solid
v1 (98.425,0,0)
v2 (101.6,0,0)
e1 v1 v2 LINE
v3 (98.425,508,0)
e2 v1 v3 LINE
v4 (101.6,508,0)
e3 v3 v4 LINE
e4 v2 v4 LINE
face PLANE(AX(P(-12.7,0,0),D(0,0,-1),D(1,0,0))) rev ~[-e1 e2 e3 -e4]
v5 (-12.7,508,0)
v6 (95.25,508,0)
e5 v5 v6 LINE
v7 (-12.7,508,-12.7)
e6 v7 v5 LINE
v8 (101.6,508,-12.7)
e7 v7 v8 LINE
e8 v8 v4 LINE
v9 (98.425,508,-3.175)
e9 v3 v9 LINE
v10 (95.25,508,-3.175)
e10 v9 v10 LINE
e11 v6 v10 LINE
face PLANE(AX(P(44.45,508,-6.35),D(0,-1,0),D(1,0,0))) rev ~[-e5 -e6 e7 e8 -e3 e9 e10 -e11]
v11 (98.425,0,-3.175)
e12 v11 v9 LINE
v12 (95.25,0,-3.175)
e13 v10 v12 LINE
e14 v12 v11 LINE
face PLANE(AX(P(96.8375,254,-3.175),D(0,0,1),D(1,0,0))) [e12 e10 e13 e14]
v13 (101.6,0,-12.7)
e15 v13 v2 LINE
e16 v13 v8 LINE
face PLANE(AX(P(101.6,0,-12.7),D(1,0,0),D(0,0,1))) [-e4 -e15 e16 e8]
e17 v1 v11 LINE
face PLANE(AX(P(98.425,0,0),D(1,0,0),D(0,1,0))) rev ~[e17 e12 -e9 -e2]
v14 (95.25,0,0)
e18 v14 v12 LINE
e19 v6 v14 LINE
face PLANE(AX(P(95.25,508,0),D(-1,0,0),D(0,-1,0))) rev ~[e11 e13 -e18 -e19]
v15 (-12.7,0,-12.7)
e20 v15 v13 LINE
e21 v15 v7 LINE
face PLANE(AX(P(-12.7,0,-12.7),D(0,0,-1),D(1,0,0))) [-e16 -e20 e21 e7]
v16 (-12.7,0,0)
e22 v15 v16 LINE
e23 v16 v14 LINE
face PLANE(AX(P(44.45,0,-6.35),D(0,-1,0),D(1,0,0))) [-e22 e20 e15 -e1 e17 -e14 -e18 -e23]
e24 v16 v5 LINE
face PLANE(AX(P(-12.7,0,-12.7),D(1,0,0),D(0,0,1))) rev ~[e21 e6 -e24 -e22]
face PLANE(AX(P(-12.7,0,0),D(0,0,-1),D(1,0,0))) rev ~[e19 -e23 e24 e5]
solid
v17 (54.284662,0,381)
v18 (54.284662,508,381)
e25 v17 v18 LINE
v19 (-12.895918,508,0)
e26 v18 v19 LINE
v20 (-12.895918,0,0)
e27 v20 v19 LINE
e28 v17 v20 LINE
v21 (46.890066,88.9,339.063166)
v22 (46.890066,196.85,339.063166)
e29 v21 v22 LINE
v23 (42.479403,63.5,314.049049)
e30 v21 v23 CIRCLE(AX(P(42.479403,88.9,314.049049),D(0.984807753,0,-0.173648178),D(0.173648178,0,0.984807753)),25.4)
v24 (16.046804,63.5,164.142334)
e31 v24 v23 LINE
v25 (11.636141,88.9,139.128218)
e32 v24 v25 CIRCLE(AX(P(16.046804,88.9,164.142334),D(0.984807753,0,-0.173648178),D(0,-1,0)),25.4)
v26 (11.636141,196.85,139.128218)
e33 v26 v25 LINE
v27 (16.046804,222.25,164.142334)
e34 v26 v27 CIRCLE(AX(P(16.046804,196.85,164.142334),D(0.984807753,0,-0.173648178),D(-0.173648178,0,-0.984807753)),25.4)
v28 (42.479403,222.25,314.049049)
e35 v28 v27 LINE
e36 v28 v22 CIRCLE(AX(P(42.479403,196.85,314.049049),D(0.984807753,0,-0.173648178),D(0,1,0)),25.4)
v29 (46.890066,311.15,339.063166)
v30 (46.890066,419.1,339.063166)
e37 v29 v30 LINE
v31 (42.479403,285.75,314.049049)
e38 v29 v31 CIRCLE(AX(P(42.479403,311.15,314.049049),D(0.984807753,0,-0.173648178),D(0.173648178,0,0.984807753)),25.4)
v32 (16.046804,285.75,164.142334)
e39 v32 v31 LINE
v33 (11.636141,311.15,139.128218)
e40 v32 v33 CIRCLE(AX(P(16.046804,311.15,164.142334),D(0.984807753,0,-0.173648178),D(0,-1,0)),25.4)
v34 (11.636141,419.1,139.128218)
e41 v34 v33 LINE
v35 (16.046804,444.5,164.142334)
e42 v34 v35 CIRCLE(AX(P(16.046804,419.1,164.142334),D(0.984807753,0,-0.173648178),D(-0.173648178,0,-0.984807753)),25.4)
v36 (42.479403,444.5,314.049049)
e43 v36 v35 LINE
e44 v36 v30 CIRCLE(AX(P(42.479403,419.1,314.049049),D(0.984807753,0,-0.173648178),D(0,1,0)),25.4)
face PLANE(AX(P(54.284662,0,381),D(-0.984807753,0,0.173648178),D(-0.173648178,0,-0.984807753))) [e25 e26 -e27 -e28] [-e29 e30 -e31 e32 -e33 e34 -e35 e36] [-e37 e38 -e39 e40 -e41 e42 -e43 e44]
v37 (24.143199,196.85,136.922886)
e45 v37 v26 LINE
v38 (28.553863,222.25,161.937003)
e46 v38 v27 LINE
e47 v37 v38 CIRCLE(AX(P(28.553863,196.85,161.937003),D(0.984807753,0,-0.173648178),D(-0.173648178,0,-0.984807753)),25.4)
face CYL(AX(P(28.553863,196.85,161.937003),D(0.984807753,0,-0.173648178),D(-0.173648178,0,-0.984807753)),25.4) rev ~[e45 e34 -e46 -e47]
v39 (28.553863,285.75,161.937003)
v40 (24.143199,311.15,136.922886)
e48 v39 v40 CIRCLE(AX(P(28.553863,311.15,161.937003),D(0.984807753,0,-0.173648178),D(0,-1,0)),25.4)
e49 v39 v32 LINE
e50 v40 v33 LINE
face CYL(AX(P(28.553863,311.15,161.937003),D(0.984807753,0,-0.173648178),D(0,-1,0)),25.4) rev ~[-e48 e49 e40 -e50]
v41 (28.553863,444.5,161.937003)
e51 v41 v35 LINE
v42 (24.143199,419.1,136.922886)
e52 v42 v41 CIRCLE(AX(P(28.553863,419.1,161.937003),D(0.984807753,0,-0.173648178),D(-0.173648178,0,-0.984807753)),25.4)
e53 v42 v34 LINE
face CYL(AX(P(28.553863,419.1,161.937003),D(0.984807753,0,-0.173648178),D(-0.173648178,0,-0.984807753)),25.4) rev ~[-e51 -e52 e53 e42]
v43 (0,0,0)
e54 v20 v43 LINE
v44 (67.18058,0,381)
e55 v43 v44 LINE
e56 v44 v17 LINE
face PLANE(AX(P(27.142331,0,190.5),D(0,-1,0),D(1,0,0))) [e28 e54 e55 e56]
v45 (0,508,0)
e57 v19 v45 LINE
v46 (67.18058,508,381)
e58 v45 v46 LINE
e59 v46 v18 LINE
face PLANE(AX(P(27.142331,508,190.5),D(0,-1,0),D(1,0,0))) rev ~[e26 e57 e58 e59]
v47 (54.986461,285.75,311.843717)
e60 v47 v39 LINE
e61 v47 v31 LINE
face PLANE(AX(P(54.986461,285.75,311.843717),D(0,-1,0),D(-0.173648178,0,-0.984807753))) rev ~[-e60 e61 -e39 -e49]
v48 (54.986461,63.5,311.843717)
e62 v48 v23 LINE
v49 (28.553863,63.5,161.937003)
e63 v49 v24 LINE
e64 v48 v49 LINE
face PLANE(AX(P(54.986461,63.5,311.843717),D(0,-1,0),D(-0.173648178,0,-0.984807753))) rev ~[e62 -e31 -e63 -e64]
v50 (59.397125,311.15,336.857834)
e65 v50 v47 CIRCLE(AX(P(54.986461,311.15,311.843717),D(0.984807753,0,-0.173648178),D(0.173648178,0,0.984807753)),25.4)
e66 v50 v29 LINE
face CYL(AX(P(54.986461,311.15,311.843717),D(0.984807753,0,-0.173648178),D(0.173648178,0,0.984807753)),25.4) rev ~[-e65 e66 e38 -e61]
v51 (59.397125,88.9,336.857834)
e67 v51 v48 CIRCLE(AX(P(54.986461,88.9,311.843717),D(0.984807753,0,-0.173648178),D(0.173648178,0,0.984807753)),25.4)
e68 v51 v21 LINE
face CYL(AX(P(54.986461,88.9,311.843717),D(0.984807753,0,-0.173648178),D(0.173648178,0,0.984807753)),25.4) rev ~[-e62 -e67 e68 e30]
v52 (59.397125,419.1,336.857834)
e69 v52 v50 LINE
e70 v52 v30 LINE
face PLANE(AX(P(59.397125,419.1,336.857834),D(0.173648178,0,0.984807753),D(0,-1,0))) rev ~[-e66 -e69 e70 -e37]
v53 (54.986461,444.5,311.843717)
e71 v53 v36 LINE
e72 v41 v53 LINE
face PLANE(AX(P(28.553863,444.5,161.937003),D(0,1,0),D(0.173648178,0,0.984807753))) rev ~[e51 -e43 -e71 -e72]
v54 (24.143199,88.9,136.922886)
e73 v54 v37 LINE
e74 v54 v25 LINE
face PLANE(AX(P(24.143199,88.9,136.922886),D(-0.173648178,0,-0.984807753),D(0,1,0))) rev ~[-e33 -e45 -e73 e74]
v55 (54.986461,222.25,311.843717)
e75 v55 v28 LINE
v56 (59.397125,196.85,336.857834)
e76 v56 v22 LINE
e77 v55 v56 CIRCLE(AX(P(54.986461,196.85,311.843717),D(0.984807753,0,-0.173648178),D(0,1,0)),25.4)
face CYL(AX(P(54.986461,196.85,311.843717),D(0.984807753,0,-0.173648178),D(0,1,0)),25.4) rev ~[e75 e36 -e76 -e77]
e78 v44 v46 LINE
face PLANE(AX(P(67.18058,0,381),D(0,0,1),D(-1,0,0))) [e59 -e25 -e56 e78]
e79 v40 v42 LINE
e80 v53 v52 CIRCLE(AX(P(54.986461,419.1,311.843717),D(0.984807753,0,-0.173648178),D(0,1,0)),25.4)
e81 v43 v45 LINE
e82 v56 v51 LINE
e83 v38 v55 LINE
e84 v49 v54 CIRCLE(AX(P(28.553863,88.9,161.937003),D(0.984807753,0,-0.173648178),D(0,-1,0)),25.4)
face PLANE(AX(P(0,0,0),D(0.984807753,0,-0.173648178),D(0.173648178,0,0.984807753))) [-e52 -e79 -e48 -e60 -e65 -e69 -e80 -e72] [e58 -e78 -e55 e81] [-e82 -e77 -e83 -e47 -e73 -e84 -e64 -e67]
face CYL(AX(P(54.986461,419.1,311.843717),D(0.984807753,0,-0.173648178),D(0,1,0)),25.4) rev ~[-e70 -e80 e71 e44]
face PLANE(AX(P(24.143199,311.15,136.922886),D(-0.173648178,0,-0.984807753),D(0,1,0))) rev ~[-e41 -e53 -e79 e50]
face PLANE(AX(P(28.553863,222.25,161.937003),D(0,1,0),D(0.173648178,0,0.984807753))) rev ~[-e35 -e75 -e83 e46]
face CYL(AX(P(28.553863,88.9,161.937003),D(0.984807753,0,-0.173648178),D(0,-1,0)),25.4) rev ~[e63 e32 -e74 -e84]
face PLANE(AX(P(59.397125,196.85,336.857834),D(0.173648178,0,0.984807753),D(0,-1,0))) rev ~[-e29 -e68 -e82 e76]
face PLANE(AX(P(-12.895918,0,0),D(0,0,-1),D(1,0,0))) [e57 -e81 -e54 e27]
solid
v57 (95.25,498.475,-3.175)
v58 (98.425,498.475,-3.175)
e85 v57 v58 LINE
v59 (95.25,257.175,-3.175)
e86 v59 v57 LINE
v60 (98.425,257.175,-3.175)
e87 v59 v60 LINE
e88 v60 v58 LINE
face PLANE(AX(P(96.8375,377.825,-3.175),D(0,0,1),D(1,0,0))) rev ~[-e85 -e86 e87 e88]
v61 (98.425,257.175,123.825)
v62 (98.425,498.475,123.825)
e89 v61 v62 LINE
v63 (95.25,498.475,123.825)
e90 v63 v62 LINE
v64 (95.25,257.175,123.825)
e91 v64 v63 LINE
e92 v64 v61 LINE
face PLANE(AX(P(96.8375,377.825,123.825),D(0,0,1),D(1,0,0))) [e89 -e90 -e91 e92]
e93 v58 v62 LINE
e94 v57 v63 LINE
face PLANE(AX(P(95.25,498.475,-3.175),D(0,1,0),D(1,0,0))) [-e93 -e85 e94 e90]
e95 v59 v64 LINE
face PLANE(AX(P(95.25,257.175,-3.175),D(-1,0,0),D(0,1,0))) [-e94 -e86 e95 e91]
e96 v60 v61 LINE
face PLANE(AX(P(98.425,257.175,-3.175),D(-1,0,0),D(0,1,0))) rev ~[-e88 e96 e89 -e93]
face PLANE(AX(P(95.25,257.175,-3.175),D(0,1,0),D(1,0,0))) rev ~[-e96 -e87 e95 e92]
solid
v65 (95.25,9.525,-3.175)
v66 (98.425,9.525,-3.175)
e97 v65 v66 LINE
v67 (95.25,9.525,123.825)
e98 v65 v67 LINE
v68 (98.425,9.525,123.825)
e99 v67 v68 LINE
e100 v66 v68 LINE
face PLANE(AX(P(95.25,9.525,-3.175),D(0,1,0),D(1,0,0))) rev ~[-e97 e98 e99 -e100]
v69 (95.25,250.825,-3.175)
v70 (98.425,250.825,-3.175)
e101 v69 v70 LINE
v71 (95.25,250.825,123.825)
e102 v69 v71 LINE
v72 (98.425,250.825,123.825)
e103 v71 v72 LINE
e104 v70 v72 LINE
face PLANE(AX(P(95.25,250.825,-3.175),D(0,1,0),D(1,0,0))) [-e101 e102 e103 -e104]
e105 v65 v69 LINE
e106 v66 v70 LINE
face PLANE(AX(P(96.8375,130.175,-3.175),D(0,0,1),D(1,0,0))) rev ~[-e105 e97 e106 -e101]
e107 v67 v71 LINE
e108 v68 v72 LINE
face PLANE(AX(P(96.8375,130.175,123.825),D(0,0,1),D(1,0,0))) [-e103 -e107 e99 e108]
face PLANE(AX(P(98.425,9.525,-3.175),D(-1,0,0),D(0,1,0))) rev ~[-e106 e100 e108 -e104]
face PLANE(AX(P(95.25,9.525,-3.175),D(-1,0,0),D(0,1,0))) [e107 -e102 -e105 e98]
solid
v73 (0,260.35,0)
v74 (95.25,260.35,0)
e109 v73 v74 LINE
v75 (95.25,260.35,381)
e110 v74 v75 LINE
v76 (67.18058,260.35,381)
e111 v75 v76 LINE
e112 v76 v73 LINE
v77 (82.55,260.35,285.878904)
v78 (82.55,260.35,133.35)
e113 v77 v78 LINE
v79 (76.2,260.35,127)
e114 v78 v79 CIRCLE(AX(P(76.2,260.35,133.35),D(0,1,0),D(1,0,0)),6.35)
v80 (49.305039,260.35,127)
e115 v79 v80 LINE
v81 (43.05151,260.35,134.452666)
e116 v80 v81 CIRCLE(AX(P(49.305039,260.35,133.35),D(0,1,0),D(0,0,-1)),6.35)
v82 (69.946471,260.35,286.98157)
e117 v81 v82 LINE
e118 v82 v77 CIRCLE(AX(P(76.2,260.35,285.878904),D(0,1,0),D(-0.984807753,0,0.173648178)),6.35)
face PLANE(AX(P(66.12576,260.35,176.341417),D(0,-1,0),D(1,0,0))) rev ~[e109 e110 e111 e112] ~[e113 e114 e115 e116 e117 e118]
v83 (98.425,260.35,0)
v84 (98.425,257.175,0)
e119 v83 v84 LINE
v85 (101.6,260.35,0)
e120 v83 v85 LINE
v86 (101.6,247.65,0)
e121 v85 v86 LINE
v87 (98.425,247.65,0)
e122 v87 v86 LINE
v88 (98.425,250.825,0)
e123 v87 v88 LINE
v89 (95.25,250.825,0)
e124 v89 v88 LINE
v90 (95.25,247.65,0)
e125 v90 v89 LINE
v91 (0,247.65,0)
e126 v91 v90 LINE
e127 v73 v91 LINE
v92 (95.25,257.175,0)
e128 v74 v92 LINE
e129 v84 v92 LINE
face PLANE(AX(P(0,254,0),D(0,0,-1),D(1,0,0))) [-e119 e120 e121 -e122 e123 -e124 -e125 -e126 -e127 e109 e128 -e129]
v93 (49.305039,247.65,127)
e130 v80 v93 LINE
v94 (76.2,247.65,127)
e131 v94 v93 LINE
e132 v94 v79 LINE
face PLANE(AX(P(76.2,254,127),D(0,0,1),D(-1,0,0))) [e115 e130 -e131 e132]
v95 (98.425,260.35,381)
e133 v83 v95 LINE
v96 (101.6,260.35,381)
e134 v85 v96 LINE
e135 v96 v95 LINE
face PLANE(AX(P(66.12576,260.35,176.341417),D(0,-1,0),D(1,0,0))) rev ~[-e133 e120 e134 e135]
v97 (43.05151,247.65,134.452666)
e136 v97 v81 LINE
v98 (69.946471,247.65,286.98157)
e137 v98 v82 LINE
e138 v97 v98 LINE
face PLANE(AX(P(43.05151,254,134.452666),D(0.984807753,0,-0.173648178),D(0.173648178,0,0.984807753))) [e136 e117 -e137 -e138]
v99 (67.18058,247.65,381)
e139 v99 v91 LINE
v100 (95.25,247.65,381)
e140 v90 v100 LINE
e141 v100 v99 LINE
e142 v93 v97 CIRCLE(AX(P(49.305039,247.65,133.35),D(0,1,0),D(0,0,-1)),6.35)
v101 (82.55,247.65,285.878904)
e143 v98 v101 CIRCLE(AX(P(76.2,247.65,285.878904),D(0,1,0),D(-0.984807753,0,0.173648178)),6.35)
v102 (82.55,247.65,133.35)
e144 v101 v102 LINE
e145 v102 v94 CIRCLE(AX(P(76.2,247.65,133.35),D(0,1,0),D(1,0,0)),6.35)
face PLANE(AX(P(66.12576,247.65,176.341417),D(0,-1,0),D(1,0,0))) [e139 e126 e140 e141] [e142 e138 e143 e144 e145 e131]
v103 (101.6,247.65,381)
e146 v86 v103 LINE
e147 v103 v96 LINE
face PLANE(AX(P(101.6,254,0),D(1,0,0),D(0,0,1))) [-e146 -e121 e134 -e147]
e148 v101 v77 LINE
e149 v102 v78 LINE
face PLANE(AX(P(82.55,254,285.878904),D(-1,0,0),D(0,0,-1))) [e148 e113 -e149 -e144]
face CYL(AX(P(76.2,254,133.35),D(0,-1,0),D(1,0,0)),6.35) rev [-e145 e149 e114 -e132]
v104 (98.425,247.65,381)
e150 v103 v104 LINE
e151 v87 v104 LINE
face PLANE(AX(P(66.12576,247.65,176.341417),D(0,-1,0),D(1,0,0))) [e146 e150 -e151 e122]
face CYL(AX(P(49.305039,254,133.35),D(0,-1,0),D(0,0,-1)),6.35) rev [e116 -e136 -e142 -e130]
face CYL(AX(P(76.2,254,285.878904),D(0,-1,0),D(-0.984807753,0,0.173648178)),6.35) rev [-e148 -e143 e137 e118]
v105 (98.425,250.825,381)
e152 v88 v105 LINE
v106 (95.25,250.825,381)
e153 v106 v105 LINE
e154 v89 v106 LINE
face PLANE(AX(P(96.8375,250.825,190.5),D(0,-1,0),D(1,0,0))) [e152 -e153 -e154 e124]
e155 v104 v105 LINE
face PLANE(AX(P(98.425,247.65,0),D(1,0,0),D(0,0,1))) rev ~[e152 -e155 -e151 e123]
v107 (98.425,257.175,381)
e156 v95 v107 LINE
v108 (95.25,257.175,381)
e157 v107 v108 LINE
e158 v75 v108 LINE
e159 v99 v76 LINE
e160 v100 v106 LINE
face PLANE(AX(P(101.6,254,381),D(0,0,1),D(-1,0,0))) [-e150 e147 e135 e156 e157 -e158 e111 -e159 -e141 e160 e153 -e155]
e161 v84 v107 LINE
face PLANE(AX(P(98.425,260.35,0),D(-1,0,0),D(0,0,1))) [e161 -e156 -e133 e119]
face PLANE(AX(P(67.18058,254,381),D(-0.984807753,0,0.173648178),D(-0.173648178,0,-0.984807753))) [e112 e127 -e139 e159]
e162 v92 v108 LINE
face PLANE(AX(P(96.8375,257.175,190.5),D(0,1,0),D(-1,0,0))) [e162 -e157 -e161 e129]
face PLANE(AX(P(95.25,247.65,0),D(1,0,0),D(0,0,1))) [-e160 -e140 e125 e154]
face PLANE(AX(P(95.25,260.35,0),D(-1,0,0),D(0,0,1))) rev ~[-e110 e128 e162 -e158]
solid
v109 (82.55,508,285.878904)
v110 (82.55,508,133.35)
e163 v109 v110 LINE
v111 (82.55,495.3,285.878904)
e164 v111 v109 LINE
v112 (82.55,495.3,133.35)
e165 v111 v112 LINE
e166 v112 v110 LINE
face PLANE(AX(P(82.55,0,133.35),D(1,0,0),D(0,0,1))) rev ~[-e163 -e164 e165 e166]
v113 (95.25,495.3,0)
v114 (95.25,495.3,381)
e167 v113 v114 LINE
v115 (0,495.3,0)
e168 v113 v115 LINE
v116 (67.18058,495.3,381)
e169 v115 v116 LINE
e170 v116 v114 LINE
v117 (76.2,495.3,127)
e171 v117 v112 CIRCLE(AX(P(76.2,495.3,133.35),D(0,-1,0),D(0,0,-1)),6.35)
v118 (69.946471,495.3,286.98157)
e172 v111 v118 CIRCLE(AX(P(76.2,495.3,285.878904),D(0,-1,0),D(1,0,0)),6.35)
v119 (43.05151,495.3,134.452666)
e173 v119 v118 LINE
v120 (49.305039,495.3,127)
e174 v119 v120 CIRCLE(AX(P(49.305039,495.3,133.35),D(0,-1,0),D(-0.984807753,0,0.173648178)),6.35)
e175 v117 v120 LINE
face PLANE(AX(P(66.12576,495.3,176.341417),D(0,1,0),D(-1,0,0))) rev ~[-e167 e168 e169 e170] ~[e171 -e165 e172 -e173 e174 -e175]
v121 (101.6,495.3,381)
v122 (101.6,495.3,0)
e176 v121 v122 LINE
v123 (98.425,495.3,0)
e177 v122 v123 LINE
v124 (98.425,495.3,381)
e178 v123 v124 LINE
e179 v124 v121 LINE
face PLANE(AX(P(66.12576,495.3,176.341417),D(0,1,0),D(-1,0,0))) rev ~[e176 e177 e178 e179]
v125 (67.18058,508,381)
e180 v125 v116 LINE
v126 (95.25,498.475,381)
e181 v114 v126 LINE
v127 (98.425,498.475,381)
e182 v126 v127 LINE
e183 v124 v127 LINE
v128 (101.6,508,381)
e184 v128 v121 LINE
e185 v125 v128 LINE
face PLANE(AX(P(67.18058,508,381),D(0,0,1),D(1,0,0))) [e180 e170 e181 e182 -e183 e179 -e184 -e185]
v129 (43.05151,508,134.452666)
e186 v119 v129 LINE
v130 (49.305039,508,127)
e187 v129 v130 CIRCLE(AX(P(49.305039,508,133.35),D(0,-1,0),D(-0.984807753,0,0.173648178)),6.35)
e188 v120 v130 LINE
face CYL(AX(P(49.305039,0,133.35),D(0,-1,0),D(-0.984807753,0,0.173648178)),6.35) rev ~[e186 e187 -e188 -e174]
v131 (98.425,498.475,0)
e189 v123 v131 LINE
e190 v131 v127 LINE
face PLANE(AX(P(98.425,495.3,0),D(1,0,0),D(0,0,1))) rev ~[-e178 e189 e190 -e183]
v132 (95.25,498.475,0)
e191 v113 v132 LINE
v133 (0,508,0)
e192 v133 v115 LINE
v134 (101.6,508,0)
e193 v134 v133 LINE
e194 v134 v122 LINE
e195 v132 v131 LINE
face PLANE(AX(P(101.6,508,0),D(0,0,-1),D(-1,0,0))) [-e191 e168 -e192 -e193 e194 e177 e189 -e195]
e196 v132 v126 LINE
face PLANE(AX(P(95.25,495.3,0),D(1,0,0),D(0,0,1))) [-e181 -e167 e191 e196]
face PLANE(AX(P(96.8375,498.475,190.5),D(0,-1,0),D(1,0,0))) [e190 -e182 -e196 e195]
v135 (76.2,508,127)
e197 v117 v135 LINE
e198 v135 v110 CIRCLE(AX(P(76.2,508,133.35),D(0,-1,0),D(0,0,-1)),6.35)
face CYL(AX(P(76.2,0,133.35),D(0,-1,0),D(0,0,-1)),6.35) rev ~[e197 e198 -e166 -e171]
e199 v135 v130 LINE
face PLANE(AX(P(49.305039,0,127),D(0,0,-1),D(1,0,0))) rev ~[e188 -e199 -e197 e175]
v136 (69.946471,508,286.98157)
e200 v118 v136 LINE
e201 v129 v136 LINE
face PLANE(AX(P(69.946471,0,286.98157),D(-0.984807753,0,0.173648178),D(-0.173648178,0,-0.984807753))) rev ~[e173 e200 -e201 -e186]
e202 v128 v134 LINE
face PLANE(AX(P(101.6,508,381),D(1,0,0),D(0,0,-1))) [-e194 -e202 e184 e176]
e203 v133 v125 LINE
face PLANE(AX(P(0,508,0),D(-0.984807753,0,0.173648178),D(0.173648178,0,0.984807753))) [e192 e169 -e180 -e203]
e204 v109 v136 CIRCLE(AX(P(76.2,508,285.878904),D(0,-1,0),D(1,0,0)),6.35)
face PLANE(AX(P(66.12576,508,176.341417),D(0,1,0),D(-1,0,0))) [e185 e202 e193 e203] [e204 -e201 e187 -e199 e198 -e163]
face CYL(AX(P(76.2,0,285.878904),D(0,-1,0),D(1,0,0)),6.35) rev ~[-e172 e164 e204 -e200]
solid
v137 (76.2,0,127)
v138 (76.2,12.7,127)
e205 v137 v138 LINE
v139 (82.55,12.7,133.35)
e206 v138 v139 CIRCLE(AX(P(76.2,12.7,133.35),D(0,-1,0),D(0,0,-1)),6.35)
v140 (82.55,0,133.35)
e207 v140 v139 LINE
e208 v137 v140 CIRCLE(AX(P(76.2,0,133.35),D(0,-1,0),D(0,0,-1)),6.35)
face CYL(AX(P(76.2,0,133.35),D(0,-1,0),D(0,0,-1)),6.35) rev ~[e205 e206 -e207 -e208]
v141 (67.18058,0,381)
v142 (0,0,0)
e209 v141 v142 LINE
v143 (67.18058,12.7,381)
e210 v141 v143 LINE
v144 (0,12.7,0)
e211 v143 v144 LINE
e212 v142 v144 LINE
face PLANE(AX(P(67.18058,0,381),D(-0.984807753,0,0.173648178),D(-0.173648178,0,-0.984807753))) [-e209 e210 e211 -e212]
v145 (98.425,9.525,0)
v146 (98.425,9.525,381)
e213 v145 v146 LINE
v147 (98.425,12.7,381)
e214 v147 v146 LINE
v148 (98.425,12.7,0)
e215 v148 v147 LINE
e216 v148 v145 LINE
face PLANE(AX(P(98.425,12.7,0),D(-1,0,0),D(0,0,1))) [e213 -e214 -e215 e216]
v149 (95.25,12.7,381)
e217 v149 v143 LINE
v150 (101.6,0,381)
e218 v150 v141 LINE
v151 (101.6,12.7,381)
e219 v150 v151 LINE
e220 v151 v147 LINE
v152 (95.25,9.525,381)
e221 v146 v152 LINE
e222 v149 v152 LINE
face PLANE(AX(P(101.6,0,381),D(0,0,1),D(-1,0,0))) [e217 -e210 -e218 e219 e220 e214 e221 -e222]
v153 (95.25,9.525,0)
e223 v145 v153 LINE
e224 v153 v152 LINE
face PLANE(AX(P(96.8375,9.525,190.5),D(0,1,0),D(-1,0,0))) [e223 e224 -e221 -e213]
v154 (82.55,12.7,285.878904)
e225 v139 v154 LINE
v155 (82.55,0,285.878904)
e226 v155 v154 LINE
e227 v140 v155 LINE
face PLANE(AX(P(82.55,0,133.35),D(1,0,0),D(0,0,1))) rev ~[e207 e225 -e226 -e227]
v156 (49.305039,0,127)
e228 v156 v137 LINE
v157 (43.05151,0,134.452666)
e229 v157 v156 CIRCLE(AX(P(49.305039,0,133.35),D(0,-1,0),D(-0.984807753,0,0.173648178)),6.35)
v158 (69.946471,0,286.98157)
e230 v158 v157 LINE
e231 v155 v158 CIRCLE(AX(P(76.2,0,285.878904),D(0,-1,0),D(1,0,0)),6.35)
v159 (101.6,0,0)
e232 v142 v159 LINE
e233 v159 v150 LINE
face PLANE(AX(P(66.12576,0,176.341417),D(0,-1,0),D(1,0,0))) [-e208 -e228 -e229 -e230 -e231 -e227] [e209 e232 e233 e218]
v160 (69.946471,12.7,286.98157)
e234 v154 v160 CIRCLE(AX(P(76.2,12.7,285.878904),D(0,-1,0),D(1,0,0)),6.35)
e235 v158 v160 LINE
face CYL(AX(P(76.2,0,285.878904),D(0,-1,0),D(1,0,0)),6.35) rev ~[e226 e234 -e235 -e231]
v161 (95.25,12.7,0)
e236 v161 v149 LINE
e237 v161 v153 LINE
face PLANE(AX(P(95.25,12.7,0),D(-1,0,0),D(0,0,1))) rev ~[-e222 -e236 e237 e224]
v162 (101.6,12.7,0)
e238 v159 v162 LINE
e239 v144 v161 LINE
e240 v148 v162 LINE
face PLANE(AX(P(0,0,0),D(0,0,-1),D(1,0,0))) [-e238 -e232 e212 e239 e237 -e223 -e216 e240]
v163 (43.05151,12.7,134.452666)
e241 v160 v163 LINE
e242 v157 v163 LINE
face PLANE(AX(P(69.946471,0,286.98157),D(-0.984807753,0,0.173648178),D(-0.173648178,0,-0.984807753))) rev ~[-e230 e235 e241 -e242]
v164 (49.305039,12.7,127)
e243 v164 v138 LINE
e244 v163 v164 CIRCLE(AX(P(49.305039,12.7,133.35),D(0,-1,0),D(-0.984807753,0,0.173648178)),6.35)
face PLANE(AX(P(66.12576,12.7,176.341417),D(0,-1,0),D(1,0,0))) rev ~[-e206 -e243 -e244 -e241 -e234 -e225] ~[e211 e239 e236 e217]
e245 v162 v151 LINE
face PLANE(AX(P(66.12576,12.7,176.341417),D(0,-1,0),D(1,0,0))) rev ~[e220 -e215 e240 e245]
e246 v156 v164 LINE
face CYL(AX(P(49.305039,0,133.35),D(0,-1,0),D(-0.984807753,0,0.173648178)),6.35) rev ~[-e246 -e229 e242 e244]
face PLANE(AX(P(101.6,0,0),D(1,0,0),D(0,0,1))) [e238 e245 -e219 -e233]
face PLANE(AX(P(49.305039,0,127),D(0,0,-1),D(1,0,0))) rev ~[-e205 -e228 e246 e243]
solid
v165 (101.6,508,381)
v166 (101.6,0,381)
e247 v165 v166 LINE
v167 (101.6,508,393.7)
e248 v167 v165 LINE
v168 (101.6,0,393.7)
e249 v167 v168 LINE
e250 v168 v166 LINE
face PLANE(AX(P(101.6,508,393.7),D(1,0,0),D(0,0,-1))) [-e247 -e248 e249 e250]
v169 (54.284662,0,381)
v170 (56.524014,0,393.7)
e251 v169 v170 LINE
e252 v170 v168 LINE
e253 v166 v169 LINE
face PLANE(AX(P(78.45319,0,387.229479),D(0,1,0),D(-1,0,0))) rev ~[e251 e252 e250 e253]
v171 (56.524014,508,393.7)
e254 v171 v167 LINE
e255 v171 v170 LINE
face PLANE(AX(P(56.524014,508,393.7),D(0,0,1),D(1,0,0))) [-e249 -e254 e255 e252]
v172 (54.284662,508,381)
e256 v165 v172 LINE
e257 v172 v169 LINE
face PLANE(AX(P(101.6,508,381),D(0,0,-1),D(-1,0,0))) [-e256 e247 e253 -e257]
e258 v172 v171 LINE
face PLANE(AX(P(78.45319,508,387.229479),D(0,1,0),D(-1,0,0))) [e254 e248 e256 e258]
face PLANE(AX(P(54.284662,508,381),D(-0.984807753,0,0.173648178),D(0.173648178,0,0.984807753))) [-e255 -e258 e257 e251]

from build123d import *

# Parameters (mm, degrees)
F1_DEPTH  = 12.7
F2_W      = 114.3
F2_H      = 12.7
F3_DEPTH  = 508
F5_DEPTH  = 12.7
F7_DEPTH  = 508
F9_DEPTH  = 508
F10_W     = 3.175
F10_H     = 381
F11_DEPTH = 3.175
F12_W     = 3.175
F12_H     = 381
F13_DEPTH = 3.175
F16_DEPTH = 6.35
F17_W     = 3.175
F17_H     = 381
F18_DEPTH = 3.175
F19_W     = 3.175
F19_H     = 381
F20_DEPTH = 3.175
F22_DEPTH = 3.175
F23_W     = 3.175
F23_H     = 241.3
F24_DEPTH = 127
F26_DEPTH = 508.001
F28_DEPTH = 81.0662875475


with BuildPart() as f1:
    # F0 (on Front) → F1 (new body)
    with BuildSketch(Plane.XZ):
        Polygon((67.1805796499, 381), (0, 0), (101.6, 0), (101.6, 381), align=None)
    extrude(amount=-F1_DEPTH)

    # F10 (on face) → F11 (cut)
    with BuildSketch(Plane(origin=(0, 12.7, 0), x_dir=(-1, 0, 0), z_dir=(0, 1, 0))):
        with Locations((-96.8375, 190.5)):
            Rectangle(F10_W, F10_H)
    extrude(amount=-F11_DEPTH, mode=Mode.SUBTRACT)


with BuildPart() as f3:
    # F2 (on face) → F3 (new body)
    with BuildSketch(Plane.XZ):
        with Locations((44.45, -6.35)):
            Rectangle(F2_W, F2_H)
    extrude(amount=-F3_DEPTH)

    # F21 (on face) → F22 (cut)
    with BuildSketch(Plane.XY):
        Polygon((95.25, 508), (95.25, 498.475), (95.25, 9.525), (95.25, 0), (98.425, 0), (98.425, 9.525), (98.425, 498.475), (98.425, 508), align=None)
    extrude(amount=-F22_DEPTH, mode=Mode.SUBTRACT)


with BuildPart() as f5:
    # F4 (on face) → F5 (new body)
    with BuildSketch(Plane(origin=(0, 508, 0), x_dir=(-1, 0, 0), z_dir=(0, 1, 0))):
        Polygon((0, 0), (-67.1805796499, 381), (-101.6, 381), (-101.6, 0), align=None)
    extrude(amount=-F5_DEPTH)

    # F12 (on face) → F13 (cut)
    with BuildSketch(Plane.XZ.offset(-495.3)):
        with Locations((96.8375, 190.5)):
            Rectangle(F12_W, F12_H)
    extrude(amount=-F13_DEPTH, mode=Mode.SUBTRACT)


with BuildPart() as f7:
    # F6 (on face) → F7 (new body, through all)
    with BuildSketch(Plane.XZ):
        Polygon((0, 0), (67.1805796499, 381), (54.284661679, 381), (-12.8959179709, 0), align=None)
    extrude(amount=-F7_DEPTH)

    # F27 (on face) → F28 (cut, through all)
    with BuildSketch(Plane(origin=(0, 0, 0), x_dir=(0, 1, 0), z_dir=(0.984807753, 0, -0.1736481777))):
        with BuildLine():
            Line((196.85, 342.0544087486), (88.9, 342.0544087486))
            ThreePointArc((88.9, 342.0544087486), (70.9394877579, 334.6149209907), (63.5, 316.6544087486))
            Line((63.5, 316.6544087486), (63.5, 164.4351419036))
            ThreePointArc((63.5, 164.4351419036), (70.9394877579, 146.4746296615), (88.9, 139.0351419036))
            Line((88.9, 139.0351419036), (196.85, 139.0351419036))
            ThreePointArc((196.85, 139.0351419036), (214.8105122421, 146.4746296615), (222.25, 164.4351419036))
            Line((222.25, 164.4351419036), (222.25, 316.6544087486))
            ThreePointArc((222.25, 316.6544087486), (214.8105122421, 334.6149209907), (196.85, 342.0544087486))
        make_face()
        with BuildLine():
            ThreePointArc((311.15, 342.0544087486), (293.1894877579, 334.6149209907), (285.75, 316.6544087486))
            Line((285.75, 316.6544087486), (285.75, 164.4351419036))
            ThreePointArc((285.75, 164.4351419036), (293.1894877579, 146.4746296615), (311.15, 139.0351419036))
            Line((311.15, 139.0351419036), (419.1, 139.0351419036))
            ThreePointArc((419.1, 139.0351419036), (437.0605122421, 146.4746296615), (444.5, 164.4351419036))
            Line((444.5, 164.4351419036), (444.5, 316.6544087486))
            ThreePointArc((444.5, 316.6544087486), (437.0605122421, 334.6149209907), (419.1, 342.0544087486))
            Line((419.1, 342.0544087486), (311.15, 342.0544087486))
        make_face()
    extrude(amount=-F28_DEPTH, mode=Mode.SUBTRACT)


with BuildPart() as f9:
    # F8 (on face) → F9 (new body, through all)
    with BuildSketch(Plane(origin=(0, 508, 0), x_dir=(-1, 0, 0), z_dir=(0, 1, 0))):
        Polygon((-101.6, 393.7), (-101.6, 381), (-54.284661679, 381), (-56.524014334, 393.7), align=None)
    extrude(amount=-F9_DEPTH)


with BuildPart() as f16:
    # F15 (on mid) → F16 (new body, symmetric)
    with BuildSketch(Plane.XZ.offset(-254)):
        Polygon((67.1805796499, 381), (0, 0), (101.6, 0), (101.6, 381), align=None)
        with BuildLine():
            ThreePointArc((49.3050388194, 127), (44.4406566056, 129.2682986785), (43.0515095877, 134.4526659282))
            Line((43.0515095877, 134.4526659282), (69.9464707684, 286.9815703112))
            ThreePointArc((69.9464707684, 286.9815703112), (76.7534389664, 292.2047407159), (82.55, 285.878904383))
            Line((82.55, 285.878904383), (82.55, 133.35))
            ThreePointArc((82.55, 133.35), (80.6901280605, 128.8598719395), (76.2, 127))
            Line((76.2, 127), (49.3050388194, 127))
        make_face(mode=Mode.SUBTRACT)
    extrude(amount=F16_DEPTH, both=True)

    # F17 (on face) → F18 (cut)
    with BuildSketch(Plane.XZ.offset(-247.65)):
        with Locations((96.8375, 190.5)):
            Rectangle(F17_W, F17_H)
    extrude(amount=-F18_DEPTH, mode=Mode.SUBTRACT)

    # F19 (on face) → F20 (cut)
    with BuildSketch(Plane(origin=(0, 260.35, 0), x_dir=(-1, 0, 0), z_dir=(0, 1, 0))):
        with Locations((-96.8375, 190.5)):
            Rectangle(F19_W, F19_H)
    extrude(amount=-F20_DEPTH, mode=Mode.SUBTRACT)


with BuildPart() as f24:
    # F23 (on face) → F24 (new body)
    with BuildSketch(Plane.XY.offset(-3.175)):
        with Locations((96.8375, 377.825)):
            Rectangle(F23_W, F23_H)
    extrude(amount=F24_DEPTH)


with BuildPart() as f24b:
    # F23 (on face) → F24, piece 2 (new body)
    with BuildSketch(Plane.XY.offset(-3.175)):
        with Locations((96.8375, 130.175)):
            Rectangle(F23_W, F23_H)
    extrude(amount=F24_DEPTH)


with BuildPart() as f26_tool:
    # F25 (on face) → F26 (new body, through all)
    with BuildSketch(Plane.XZ):
        with BuildLine():
            Line((69.9464707684, 286.9815703112), (43.0515095877, 134.4526659282))
            ThreePointArc((43.0515095877, 134.4526659282), (44.4406566056, 129.2682986785), (49.3050388194, 127))
            Line((49.3050388194, 127), (76.2, 127))
            ThreePointArc((76.2, 127), (80.6901280605, 128.8598719395), (82.55, 133.35))
            Line((82.55, 133.35), (82.55, 285.878904383))
            ThreePointArc((82.55, 285.878904383), (76.7534389664, 292.2047407159), (69.9464707684, 286.9815703112))
        make_face()
    extrude(amount=-F26_DEPTH)


with BuildPart() as f1_1:
    add(f1.part)

    # F26: cut by f26_tool
    add(f26_tool.part, mode=Mode.SUBTRACT)


with BuildPart() as f5_1:
    add(f5.part)

    # F26: cut by f26_tool
    add(f26_tool.part, mode=Mode.SUBTRACT)


solid = Compound([f3.part, f7.part, f9.part, f16.part, f24.part, f24b.part, f1_1.part, f5_1.part])
